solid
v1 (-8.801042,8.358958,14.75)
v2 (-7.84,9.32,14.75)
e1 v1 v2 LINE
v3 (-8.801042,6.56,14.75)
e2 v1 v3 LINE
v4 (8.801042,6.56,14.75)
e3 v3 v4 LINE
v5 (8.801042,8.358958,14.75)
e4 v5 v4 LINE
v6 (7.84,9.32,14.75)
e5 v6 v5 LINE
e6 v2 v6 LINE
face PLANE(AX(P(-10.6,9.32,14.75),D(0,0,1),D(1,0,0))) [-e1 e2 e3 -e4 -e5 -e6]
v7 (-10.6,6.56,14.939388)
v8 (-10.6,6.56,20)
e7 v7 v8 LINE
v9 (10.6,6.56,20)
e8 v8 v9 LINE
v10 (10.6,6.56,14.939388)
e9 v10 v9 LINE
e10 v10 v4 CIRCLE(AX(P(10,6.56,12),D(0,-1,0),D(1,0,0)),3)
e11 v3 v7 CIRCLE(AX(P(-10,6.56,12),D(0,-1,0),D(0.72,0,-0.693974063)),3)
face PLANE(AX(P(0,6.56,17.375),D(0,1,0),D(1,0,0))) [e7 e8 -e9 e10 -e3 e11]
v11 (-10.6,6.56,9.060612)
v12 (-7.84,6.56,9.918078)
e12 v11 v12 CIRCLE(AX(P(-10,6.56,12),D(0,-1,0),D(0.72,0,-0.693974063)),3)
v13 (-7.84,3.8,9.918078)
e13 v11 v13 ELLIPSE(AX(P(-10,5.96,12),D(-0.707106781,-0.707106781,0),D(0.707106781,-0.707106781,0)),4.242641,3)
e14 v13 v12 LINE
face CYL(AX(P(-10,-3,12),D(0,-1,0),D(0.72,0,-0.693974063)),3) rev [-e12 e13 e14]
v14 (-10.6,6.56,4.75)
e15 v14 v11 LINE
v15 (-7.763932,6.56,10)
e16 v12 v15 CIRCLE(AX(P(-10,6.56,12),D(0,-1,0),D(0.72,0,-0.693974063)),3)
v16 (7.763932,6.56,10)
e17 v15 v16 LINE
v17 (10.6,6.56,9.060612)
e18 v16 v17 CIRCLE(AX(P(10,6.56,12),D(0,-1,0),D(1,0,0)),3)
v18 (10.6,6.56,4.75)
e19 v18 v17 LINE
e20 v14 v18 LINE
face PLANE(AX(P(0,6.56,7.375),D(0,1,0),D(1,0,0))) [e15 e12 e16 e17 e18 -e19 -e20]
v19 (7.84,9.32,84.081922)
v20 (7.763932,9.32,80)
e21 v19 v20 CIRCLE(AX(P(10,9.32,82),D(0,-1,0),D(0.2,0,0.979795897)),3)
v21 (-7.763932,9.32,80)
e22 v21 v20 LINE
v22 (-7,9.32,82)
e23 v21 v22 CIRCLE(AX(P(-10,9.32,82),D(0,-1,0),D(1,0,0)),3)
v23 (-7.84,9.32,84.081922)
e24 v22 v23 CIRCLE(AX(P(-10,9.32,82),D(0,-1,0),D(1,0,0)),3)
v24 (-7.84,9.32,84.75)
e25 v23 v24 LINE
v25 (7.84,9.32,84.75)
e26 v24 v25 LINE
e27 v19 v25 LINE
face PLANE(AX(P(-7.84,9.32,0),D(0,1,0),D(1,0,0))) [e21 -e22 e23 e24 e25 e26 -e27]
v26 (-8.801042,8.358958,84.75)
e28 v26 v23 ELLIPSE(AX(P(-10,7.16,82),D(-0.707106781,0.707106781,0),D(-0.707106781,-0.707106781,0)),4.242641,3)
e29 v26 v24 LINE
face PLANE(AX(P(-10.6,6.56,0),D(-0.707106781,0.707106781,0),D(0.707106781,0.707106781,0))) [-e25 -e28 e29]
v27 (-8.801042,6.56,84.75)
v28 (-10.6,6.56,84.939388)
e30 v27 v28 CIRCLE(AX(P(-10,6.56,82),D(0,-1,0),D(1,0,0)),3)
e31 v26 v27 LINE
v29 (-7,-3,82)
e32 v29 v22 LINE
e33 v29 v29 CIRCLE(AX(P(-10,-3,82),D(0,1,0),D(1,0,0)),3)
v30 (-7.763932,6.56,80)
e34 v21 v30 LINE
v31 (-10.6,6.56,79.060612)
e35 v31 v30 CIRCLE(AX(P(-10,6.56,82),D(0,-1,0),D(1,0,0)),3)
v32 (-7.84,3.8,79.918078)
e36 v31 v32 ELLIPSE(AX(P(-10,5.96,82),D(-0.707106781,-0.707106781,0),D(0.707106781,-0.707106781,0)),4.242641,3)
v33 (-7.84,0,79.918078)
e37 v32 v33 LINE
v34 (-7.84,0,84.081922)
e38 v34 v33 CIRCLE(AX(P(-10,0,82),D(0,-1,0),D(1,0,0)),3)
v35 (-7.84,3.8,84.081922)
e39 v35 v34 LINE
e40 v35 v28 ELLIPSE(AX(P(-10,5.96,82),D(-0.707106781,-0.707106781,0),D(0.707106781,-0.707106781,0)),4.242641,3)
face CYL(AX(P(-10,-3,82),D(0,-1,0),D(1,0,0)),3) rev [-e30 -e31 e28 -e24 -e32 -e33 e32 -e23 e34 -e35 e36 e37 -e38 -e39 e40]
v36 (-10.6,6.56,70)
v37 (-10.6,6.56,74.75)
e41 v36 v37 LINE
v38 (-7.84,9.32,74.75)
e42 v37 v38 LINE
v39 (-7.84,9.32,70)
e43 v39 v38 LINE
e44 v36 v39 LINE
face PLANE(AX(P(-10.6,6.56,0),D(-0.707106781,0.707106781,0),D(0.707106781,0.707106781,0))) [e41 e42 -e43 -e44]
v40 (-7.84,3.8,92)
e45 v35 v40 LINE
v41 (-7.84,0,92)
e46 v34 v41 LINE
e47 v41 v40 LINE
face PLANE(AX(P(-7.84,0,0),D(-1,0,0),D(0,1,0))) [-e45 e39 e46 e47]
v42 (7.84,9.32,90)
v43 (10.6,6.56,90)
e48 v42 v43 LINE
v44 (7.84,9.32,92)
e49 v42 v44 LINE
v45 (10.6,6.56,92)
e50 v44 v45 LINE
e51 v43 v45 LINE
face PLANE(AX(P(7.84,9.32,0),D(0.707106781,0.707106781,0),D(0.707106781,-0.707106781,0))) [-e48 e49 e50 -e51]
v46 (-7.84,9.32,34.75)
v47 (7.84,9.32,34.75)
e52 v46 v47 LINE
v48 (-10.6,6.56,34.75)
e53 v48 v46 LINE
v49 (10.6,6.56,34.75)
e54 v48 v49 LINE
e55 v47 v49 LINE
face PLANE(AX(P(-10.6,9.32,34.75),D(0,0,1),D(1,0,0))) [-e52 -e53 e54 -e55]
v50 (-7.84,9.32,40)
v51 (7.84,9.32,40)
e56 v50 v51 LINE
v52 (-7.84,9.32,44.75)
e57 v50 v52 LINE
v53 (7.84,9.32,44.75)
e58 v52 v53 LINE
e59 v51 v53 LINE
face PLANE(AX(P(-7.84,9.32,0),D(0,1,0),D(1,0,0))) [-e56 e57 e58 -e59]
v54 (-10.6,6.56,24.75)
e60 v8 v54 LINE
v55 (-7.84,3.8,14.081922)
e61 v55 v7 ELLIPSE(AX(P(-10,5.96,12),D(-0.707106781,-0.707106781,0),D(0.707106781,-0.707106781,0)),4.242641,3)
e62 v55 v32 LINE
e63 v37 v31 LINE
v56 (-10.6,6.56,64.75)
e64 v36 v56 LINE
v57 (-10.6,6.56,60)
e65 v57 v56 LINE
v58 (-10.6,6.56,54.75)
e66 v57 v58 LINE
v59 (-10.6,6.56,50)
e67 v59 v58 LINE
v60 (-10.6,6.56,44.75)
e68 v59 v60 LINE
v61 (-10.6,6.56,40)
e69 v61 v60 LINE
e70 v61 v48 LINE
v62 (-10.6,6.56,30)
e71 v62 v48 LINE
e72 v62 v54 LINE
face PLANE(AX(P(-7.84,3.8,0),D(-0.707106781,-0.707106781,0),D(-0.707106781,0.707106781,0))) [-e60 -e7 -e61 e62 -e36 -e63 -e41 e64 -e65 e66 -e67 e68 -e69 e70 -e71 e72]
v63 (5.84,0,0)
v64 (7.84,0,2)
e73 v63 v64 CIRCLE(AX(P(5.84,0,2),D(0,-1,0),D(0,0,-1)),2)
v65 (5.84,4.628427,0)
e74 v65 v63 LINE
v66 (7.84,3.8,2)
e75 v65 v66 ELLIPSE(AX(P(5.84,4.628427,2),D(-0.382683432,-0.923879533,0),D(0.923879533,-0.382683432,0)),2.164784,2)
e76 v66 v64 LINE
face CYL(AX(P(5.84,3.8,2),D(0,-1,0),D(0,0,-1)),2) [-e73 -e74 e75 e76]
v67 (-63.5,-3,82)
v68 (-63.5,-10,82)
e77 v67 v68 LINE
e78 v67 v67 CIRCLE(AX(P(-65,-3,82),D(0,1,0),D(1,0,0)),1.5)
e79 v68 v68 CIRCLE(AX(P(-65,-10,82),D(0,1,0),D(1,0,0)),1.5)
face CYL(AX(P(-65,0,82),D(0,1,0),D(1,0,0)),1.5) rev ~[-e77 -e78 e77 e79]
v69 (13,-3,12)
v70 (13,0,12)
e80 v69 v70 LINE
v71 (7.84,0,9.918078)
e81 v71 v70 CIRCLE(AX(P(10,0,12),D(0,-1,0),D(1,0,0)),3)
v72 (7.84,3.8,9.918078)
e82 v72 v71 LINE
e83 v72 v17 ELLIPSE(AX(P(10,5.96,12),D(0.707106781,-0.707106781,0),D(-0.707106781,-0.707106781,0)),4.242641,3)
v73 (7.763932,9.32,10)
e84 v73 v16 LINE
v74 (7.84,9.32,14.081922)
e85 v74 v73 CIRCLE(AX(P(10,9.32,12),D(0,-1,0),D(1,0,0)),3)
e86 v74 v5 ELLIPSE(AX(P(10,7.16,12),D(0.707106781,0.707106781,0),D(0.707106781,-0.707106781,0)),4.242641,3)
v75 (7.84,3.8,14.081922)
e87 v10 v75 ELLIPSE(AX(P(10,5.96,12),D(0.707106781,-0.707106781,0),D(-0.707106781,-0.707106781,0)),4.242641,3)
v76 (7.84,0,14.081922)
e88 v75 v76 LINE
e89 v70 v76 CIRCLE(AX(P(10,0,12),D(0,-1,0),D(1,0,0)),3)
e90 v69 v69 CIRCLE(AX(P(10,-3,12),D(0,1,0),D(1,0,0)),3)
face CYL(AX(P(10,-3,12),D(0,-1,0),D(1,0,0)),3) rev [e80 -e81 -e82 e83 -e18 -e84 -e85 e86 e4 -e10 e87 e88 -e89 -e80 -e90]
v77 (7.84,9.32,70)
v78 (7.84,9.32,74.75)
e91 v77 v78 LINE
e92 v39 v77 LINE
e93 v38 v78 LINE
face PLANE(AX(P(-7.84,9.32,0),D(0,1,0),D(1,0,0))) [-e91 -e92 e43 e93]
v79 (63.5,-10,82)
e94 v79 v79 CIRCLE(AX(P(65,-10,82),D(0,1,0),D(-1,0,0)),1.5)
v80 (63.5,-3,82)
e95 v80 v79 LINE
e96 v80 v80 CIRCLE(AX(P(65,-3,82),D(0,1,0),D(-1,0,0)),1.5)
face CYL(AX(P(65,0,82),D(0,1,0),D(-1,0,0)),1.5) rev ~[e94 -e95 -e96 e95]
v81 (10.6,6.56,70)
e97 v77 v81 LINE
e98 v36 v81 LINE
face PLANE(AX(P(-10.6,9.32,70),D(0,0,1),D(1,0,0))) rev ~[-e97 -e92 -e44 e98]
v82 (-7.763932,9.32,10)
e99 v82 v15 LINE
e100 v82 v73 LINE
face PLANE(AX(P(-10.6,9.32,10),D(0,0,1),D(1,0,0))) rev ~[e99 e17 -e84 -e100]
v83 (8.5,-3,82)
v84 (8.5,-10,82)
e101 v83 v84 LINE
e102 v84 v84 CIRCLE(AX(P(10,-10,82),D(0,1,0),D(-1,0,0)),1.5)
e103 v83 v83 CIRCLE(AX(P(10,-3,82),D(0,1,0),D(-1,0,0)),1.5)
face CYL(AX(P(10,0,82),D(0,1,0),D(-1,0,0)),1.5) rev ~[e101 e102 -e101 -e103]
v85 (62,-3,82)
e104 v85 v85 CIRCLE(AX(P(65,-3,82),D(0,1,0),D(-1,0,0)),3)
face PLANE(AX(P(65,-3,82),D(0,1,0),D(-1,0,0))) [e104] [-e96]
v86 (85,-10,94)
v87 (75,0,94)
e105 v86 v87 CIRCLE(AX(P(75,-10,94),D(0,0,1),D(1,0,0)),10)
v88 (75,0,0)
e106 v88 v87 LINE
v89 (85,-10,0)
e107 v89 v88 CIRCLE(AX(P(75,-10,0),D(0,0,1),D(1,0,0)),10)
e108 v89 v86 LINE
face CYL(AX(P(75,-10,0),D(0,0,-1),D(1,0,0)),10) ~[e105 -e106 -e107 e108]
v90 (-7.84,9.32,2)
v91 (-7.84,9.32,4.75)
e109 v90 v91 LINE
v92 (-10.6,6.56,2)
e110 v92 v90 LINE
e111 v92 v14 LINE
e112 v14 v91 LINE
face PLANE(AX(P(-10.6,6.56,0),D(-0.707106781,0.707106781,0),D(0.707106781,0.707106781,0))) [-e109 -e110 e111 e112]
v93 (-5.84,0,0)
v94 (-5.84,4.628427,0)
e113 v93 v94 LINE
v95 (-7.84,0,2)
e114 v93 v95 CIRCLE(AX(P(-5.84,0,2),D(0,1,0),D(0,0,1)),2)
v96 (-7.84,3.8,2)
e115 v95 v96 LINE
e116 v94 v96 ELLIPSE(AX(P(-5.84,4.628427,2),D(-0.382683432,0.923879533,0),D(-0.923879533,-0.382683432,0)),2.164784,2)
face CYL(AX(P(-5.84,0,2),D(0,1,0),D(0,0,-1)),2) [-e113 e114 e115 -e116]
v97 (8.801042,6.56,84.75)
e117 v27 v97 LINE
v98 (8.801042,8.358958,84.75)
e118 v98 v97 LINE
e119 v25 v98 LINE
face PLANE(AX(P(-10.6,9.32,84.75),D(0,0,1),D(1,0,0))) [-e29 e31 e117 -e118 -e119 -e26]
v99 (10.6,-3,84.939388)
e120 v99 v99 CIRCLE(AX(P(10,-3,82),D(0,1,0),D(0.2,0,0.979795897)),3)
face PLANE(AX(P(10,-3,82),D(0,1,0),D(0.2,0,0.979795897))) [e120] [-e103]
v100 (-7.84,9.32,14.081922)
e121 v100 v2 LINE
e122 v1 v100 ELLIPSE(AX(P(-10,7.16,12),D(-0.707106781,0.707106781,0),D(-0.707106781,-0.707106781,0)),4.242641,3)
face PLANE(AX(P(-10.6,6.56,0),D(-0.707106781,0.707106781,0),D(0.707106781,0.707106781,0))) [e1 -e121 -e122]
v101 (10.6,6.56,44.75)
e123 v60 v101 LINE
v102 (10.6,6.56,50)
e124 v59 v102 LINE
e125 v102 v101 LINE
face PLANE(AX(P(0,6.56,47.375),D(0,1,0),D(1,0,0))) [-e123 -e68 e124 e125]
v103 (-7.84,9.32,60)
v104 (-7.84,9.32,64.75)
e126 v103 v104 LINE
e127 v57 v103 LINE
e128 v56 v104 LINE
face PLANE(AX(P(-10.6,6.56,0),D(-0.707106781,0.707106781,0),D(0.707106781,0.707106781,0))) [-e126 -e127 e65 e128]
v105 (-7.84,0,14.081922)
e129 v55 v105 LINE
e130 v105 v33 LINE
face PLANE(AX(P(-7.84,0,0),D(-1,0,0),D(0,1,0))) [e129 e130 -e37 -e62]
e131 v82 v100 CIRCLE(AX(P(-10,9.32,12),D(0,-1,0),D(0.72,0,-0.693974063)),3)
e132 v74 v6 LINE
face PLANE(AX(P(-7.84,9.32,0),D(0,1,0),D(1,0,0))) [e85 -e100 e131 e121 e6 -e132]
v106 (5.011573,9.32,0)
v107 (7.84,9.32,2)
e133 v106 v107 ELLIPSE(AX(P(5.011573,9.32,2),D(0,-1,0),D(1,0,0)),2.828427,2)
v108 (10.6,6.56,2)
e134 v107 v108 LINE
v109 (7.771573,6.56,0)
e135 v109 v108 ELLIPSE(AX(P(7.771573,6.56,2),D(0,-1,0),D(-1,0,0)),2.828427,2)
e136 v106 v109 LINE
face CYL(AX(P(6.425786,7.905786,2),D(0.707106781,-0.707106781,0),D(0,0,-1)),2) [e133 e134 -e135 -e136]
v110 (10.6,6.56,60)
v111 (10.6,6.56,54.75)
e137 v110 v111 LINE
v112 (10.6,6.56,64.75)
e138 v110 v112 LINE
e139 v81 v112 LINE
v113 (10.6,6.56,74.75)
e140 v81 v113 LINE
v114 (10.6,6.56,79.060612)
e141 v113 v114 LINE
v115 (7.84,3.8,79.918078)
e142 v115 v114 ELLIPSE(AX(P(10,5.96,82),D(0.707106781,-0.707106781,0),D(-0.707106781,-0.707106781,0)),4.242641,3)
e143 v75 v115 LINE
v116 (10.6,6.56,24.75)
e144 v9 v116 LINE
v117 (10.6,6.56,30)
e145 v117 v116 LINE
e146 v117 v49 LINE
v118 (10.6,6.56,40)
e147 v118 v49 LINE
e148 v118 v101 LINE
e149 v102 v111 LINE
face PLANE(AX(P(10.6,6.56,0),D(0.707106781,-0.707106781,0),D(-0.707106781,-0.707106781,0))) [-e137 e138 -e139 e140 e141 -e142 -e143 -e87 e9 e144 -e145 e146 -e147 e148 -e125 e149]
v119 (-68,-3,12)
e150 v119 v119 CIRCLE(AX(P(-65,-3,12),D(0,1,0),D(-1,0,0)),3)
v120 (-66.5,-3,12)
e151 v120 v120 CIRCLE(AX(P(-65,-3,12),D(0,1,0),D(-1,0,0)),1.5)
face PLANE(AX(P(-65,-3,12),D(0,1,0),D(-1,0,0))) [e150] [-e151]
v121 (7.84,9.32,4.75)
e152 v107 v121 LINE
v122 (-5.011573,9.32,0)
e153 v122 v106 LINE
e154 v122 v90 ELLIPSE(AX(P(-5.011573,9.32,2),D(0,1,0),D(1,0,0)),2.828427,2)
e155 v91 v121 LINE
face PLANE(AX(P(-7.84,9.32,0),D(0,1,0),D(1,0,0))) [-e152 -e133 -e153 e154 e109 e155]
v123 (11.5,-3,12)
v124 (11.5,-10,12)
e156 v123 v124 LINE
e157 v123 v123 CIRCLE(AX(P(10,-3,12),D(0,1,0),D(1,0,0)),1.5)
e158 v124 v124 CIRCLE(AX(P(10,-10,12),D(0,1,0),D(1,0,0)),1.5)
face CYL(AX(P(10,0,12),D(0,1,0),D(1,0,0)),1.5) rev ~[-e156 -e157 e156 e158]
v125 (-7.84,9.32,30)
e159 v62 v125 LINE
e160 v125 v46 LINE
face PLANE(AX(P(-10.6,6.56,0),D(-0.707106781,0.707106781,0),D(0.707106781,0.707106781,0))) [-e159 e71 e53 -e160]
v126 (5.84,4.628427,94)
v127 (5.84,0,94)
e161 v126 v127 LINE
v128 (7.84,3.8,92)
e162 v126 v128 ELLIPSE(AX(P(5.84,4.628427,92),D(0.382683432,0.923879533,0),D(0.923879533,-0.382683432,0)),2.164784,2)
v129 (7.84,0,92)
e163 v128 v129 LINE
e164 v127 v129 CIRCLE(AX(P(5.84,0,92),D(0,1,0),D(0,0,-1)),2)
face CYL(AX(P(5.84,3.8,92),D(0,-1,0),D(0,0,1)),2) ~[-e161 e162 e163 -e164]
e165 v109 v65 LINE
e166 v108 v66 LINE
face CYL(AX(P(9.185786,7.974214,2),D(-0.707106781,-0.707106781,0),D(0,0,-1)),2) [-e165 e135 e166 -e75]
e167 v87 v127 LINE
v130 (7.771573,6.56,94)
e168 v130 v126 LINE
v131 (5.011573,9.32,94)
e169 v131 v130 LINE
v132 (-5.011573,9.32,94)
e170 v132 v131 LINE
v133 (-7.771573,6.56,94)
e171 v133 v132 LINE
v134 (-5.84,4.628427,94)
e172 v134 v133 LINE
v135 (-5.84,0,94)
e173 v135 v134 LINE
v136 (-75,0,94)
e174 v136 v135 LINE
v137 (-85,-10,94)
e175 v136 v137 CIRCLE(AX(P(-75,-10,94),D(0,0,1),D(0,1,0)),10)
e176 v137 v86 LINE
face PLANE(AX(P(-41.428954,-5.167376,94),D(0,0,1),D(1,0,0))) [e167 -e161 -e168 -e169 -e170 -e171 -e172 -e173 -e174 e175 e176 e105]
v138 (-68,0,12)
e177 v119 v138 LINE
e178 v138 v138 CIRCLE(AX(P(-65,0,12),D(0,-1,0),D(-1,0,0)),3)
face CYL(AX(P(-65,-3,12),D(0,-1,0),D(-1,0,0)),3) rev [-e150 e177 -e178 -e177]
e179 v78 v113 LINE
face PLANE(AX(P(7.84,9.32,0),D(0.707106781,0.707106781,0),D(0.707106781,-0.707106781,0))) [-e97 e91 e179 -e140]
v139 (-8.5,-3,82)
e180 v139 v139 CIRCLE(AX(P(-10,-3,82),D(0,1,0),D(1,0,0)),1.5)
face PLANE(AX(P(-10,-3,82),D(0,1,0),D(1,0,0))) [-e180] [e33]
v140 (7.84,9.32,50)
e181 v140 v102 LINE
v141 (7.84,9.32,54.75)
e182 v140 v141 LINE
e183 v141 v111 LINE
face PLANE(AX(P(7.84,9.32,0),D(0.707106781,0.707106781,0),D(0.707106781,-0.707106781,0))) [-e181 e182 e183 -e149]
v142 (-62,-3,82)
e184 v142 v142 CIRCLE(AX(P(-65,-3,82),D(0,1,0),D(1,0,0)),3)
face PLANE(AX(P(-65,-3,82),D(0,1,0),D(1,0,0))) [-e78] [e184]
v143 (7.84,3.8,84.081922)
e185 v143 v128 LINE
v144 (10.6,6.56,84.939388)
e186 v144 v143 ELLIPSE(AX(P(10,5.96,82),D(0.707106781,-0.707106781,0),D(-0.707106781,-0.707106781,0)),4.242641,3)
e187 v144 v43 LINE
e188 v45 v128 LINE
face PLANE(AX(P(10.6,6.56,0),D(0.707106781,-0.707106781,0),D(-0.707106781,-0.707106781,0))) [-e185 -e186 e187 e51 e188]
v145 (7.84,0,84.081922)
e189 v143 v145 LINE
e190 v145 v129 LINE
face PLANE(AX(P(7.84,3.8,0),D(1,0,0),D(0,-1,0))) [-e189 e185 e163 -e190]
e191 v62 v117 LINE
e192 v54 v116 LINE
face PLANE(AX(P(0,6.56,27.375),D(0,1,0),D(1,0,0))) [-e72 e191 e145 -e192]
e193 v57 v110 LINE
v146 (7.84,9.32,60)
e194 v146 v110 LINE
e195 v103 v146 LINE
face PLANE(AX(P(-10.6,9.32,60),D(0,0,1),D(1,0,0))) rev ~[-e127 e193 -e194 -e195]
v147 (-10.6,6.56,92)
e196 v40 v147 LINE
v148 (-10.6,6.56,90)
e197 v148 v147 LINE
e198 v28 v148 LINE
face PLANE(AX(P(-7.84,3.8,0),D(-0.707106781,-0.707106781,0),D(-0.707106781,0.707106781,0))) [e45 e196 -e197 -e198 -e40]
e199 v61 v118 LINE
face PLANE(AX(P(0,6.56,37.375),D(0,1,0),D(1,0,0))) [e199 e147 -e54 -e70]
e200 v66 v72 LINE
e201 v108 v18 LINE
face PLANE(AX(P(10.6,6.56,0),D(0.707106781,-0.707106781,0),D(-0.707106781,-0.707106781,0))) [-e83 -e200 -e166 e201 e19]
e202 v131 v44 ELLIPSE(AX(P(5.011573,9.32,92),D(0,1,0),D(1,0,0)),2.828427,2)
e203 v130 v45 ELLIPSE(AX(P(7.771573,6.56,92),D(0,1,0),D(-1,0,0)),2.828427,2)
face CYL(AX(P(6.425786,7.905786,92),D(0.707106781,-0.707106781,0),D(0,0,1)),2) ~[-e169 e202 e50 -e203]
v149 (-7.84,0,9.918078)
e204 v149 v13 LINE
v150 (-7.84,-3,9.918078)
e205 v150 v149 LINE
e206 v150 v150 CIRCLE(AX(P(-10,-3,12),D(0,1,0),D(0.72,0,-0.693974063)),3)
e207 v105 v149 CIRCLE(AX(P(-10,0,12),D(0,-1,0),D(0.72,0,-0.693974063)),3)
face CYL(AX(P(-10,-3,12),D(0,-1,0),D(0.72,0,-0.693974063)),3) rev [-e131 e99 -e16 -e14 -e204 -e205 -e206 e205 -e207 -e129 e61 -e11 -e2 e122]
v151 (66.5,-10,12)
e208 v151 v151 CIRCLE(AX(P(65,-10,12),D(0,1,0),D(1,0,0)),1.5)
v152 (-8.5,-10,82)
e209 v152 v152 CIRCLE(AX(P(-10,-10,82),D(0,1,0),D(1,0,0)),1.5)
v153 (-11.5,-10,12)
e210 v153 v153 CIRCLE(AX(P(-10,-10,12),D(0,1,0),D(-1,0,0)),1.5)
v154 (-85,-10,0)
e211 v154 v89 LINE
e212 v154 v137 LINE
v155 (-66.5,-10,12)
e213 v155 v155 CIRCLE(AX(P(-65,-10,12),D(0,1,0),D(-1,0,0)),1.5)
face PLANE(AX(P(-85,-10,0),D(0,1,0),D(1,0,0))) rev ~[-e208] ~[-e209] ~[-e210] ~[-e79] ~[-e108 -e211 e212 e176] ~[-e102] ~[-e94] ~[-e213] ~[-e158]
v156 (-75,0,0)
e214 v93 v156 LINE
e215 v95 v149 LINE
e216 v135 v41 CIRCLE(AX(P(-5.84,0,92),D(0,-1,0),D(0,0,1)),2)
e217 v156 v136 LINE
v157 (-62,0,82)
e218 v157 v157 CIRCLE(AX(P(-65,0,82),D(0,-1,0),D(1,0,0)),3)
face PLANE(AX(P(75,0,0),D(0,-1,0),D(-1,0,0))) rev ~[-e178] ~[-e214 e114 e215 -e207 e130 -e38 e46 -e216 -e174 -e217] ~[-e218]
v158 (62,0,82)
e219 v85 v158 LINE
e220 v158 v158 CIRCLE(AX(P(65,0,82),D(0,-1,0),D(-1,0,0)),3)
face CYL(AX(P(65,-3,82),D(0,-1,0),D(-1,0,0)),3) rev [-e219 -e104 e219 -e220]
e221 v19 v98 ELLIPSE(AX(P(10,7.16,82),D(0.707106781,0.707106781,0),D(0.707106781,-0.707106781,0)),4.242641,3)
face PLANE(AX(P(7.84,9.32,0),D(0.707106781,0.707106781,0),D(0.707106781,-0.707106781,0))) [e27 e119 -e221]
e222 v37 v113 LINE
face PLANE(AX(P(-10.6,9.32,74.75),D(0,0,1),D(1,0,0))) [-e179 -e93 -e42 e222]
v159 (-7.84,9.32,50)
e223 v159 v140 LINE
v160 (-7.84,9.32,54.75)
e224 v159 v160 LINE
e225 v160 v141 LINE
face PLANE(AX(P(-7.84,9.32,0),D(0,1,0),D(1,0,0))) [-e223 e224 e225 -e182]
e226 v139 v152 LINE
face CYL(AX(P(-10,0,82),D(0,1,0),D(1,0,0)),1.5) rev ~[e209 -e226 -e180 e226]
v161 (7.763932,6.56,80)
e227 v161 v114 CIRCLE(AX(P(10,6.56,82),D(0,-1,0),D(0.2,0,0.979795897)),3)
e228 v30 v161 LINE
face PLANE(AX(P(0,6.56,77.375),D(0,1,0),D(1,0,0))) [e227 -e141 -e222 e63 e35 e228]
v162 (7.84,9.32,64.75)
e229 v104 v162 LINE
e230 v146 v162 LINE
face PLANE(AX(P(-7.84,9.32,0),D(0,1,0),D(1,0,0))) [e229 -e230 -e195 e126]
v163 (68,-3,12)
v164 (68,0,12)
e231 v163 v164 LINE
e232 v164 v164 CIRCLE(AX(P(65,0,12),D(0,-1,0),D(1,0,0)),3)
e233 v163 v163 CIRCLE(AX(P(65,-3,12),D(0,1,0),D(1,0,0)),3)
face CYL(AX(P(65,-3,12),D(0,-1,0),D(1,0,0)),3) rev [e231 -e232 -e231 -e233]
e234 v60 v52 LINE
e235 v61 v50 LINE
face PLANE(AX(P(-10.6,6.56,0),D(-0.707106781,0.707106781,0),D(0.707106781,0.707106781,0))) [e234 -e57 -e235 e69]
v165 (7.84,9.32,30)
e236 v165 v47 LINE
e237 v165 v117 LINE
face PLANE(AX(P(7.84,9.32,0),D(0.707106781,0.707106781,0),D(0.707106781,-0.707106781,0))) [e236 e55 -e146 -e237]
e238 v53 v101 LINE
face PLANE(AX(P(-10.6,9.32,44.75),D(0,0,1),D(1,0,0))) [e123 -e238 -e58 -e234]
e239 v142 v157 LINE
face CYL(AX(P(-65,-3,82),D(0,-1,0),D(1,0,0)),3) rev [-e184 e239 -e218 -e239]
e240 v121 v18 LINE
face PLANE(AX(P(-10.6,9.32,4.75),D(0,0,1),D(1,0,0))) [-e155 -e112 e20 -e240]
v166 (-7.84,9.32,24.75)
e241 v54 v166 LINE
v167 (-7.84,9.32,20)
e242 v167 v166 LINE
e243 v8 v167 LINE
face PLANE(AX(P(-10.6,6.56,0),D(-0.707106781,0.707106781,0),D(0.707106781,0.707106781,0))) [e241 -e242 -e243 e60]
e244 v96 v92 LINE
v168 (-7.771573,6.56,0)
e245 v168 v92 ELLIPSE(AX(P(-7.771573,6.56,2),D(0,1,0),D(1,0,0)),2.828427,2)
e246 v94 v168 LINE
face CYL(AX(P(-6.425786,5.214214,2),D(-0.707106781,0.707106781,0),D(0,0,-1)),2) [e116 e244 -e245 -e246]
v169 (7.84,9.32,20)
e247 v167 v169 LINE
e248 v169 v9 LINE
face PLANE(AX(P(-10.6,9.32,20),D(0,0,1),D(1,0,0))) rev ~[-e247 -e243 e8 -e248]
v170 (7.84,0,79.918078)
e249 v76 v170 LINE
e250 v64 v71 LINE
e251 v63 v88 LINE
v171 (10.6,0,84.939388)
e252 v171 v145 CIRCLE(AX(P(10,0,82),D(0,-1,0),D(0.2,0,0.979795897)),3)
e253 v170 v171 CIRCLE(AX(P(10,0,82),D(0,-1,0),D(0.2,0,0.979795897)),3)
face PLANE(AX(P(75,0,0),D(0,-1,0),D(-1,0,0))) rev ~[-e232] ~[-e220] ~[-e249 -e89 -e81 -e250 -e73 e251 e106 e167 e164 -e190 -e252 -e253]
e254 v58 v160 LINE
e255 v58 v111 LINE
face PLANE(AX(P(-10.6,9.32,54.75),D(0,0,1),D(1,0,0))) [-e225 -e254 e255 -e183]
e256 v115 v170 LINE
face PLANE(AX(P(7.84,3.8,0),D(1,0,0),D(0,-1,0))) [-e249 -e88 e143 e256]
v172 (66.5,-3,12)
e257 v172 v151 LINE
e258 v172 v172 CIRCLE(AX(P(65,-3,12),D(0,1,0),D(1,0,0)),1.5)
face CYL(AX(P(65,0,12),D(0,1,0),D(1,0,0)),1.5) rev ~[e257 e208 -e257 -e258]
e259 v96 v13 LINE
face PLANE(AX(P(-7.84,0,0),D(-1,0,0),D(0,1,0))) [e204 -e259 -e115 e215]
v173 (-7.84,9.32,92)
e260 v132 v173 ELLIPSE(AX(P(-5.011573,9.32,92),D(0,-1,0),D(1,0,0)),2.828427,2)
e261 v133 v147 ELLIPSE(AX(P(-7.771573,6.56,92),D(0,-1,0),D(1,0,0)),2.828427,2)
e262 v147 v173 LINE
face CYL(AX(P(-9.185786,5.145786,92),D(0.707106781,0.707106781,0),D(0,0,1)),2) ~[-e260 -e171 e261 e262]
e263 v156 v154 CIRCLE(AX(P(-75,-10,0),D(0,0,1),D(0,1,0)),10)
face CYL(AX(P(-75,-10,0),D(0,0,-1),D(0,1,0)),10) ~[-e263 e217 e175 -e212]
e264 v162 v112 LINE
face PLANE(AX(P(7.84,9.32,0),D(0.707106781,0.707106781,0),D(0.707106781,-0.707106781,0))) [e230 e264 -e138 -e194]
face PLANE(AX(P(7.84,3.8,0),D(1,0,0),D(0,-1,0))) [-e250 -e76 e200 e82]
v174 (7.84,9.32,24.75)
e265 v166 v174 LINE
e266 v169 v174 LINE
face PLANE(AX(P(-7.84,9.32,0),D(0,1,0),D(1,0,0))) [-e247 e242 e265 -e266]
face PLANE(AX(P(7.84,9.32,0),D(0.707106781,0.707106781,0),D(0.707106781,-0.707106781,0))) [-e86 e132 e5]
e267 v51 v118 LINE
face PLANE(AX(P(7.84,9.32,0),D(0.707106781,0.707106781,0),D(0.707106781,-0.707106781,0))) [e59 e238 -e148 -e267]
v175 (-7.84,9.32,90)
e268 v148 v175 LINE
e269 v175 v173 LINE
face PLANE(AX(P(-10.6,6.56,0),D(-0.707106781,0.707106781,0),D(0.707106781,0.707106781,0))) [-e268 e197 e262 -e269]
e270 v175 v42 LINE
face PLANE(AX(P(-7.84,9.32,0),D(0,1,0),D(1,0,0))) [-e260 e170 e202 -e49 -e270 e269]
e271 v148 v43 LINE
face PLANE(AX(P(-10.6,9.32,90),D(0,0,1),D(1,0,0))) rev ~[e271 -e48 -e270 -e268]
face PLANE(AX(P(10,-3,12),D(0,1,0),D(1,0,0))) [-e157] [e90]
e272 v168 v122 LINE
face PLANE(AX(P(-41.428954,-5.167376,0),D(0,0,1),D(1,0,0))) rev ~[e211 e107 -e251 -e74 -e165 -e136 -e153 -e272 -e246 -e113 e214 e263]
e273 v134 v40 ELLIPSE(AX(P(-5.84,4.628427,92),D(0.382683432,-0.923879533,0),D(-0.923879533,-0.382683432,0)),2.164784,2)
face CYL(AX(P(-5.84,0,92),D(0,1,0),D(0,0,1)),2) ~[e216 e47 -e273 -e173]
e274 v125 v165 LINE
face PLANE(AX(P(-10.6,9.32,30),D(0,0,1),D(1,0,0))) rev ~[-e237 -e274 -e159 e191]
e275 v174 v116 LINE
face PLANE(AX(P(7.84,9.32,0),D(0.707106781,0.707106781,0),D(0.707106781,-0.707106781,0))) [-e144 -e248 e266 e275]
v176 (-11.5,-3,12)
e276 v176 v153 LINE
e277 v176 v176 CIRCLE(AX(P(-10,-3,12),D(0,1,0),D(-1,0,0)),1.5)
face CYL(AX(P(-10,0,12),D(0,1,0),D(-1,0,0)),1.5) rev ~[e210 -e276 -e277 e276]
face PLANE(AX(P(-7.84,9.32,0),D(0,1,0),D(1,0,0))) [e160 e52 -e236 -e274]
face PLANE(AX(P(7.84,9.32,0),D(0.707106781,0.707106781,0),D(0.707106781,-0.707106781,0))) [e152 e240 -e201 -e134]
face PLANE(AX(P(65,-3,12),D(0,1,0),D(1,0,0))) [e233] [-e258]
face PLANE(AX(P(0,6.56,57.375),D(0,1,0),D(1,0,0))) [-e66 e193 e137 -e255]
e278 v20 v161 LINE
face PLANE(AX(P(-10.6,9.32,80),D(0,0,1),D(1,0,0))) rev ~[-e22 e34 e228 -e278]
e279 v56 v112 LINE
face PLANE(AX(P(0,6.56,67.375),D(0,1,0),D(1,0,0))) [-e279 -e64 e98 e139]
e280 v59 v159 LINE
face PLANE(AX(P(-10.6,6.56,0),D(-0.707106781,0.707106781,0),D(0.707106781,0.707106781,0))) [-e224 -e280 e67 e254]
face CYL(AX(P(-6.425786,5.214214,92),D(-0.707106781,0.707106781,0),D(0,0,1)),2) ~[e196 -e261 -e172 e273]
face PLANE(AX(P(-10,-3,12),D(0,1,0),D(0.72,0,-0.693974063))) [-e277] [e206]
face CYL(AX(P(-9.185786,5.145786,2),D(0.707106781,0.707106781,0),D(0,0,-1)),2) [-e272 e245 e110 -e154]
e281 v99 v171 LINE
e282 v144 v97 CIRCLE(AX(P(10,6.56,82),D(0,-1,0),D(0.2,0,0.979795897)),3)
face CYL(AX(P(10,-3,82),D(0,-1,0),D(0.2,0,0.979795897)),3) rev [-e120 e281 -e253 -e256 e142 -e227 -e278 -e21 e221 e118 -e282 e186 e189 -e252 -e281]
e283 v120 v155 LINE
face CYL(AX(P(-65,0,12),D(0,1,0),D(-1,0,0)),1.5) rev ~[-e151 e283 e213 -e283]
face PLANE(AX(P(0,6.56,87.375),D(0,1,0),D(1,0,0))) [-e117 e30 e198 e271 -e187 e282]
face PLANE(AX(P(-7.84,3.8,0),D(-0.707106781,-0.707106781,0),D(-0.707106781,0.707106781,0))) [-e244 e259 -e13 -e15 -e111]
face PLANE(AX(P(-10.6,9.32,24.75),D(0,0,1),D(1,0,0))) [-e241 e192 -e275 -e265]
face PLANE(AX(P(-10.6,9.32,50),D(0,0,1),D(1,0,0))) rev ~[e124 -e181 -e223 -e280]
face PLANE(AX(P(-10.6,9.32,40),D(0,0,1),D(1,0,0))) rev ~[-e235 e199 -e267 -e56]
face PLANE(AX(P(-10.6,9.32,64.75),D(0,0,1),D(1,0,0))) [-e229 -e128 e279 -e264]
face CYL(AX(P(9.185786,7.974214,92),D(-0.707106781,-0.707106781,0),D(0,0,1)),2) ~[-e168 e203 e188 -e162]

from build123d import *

# Parameters (mm, degrees)
EXTRUDE_1_DEPTH        = 94
EXTRUDE_2_DEPTH        = 94
SKETCH_4_R             = 1.5
CUT_EXTRUDE_1_DEPTH    = 128.125921826
CUT_EXTRUDE_START      = -3
SKETCH_5_R             = 3
CUT_EXTRUDE_2_DEPTH    = 131.125921826
SKETCH_6_W             = 21.2
SKETCH_6_H             = 5.25
CUT_EXTRUDE_3_DEPTH    = 2.76
PATTERN_LINEAR_1_COUNT = 9
PATTERN_LINEAR_1_PITCH = 10
FILLET_2_R             = 2


with BuildPart() as part:
    # 草图3 → 凸台-拉伸1 (new body)
    with BuildSketch(Plane.XY):
        with BuildLine():
            Line((0, 0), (-75, 0))
            ThreePointArc((-75, 0), (-82.071067812, -2.928932188), (-85, -10))
            Line((-85, -10), (-75, -10))
            Line((-75, -10), (0, -10))
            Line((0, -10), (0, 0))
        make_face()
        with BuildLine():
            Line((75, 0), (0, 0))
            Line((0, 0), (0, -10))
            Line((0, -10), (75, -10))
            Line((75, -10), (85, -10))
            ThreePointArc((85, -10), (82.071067812, -2.928932188), (75, 0))
        make_face()
    extrude(amount=EXTRUDE_1_DEPTH)

    # 草图2 → 凸台-拉伸2 (add, through all)
    with BuildSketch(Plane.XY):
        Polygon((7.84, 9.32), (10.6, 6.56), (7.84, 3.8), (7.84, 0), (-7.84, 0), (-7.84, 3.8), (-10.6, 6.56), (-7.84, 9.32), align=None)
    extrude(amount=EXTRUDE_2_DEPTH)

    # 草图4 → 切除-拉伸1 (cut, through all)
    with BuildSketch(Plane(origin=(0, 0, 0), x_dir=(1, 0, 0), z_dir=(0, 1, 0))):
        with Locations(Location((-65, -12, 0), (0, 0, 180))):
            Circle(SKETCH_4_R)
        with Locations(Location((-10, -12, 0), (0, 0, 180))):
            Circle(SKETCH_4_R)
        with Locations((10, -12)):
            Circle(SKETCH_4_R)
        with Locations((65, -12)):
            Circle(SKETCH_4_R)
        with Locations(Location((65, -82, 0), (0, 0, 180))):
            Circle(SKETCH_4_R)
        with Locations(Location((10, -82, 0), (0, 0, 180))):
            Circle(SKETCH_4_R)
        with Locations((-65, -82)):
            Circle(SKETCH_4_R)
        with Locations((-10, -82)):
            Circle(SKETCH_4_R)
    extrude(amount=-CUT_EXTRUDE_1_DEPTH, mode=Mode.SUBTRACT)

    # 草图5 → 切除-拉伸2 (cut, through all)
    with BuildSketch(Plane(origin=(0, 0, 0), x_dir=(1, 0, 0), z_dir=(0, 1, 0)).offset(CUT_EXTRUDE_START)):
        with Locations(Location((-65, -12, 0), (0, 0, 180))):
            Circle(SKETCH_5_R)
        with Locations(Location((-10, -12, 0), (0, 0, 43.945519562))):
            Circle(SKETCH_5_R)
        with Locations((10, -12)):
            Circle(SKETCH_5_R)
        with Locations((65, -12)):
            Circle(SKETCH_5_R)
        with Locations(Location((65, -82, 0), (0, 0, 180))):
            Circle(SKETCH_5_R)
        with Locations(Location((10, -82, 0), (0, 0, 281.536959033))):
            Circle(SKETCH_5_R)
        with Locations((-10, -82)):
            Circle(SKETCH_5_R)
        with Locations((-65, -82)):
            Circle(SKETCH_5_R)
    extrude(amount=CUT_EXTRUDE_2_DEPTH, mode=Mode.SUBTRACT)

    # 草图6 → 切除-拉伸3 (cut)
    with BuildSketch(Plane(origin=(0, 9.32, 0), x_dir=(1, 0, 0), z_dir=(0, 1, 0))):
        with Locations((0, -7.375)):
            Rectangle(SKETCH_6_W, SKETCH_6_H)
    cut_extrude_3 = extrude(amount=-CUT_EXTRUDE_3_DEPTH, mode=Mode.SUBTRACT)

    # 阵列(线性)1: 切除-拉伸3 ×9
    with Locations(*[(0, 0, i * PATTERN_LINEAR_1_PITCH) for i in range(1, PATTERN_LINEAR_1_COUNT)]):
        add(cut_extrude_3, mode=Mode.SUBTRACT)

    # 圆角2
    fillet_2_edges = [part.edges().sort_by_distance(p)[0] for p in [
        (-9.22, 7.94, 0),
        (-9.22, 5.18, 0),
        (-7.84, 1.9, 0),
        (7.84, 1.9, 0),
        (9.22, 5.18, 0),
        (9.22, 7.94, 0),
        (-9.22, 7.94, 94),
        (-9.22, 5.18, 94),
        (-7.84, 1.9, 94),
        (7.84, 1.9, 94),
        (9.22, 5.18, 94),
        (9.22, 7.94, 94),
    ]]
    fillet(fillet_2_edges, radius=FILLET_2_R)


solid = part.part
